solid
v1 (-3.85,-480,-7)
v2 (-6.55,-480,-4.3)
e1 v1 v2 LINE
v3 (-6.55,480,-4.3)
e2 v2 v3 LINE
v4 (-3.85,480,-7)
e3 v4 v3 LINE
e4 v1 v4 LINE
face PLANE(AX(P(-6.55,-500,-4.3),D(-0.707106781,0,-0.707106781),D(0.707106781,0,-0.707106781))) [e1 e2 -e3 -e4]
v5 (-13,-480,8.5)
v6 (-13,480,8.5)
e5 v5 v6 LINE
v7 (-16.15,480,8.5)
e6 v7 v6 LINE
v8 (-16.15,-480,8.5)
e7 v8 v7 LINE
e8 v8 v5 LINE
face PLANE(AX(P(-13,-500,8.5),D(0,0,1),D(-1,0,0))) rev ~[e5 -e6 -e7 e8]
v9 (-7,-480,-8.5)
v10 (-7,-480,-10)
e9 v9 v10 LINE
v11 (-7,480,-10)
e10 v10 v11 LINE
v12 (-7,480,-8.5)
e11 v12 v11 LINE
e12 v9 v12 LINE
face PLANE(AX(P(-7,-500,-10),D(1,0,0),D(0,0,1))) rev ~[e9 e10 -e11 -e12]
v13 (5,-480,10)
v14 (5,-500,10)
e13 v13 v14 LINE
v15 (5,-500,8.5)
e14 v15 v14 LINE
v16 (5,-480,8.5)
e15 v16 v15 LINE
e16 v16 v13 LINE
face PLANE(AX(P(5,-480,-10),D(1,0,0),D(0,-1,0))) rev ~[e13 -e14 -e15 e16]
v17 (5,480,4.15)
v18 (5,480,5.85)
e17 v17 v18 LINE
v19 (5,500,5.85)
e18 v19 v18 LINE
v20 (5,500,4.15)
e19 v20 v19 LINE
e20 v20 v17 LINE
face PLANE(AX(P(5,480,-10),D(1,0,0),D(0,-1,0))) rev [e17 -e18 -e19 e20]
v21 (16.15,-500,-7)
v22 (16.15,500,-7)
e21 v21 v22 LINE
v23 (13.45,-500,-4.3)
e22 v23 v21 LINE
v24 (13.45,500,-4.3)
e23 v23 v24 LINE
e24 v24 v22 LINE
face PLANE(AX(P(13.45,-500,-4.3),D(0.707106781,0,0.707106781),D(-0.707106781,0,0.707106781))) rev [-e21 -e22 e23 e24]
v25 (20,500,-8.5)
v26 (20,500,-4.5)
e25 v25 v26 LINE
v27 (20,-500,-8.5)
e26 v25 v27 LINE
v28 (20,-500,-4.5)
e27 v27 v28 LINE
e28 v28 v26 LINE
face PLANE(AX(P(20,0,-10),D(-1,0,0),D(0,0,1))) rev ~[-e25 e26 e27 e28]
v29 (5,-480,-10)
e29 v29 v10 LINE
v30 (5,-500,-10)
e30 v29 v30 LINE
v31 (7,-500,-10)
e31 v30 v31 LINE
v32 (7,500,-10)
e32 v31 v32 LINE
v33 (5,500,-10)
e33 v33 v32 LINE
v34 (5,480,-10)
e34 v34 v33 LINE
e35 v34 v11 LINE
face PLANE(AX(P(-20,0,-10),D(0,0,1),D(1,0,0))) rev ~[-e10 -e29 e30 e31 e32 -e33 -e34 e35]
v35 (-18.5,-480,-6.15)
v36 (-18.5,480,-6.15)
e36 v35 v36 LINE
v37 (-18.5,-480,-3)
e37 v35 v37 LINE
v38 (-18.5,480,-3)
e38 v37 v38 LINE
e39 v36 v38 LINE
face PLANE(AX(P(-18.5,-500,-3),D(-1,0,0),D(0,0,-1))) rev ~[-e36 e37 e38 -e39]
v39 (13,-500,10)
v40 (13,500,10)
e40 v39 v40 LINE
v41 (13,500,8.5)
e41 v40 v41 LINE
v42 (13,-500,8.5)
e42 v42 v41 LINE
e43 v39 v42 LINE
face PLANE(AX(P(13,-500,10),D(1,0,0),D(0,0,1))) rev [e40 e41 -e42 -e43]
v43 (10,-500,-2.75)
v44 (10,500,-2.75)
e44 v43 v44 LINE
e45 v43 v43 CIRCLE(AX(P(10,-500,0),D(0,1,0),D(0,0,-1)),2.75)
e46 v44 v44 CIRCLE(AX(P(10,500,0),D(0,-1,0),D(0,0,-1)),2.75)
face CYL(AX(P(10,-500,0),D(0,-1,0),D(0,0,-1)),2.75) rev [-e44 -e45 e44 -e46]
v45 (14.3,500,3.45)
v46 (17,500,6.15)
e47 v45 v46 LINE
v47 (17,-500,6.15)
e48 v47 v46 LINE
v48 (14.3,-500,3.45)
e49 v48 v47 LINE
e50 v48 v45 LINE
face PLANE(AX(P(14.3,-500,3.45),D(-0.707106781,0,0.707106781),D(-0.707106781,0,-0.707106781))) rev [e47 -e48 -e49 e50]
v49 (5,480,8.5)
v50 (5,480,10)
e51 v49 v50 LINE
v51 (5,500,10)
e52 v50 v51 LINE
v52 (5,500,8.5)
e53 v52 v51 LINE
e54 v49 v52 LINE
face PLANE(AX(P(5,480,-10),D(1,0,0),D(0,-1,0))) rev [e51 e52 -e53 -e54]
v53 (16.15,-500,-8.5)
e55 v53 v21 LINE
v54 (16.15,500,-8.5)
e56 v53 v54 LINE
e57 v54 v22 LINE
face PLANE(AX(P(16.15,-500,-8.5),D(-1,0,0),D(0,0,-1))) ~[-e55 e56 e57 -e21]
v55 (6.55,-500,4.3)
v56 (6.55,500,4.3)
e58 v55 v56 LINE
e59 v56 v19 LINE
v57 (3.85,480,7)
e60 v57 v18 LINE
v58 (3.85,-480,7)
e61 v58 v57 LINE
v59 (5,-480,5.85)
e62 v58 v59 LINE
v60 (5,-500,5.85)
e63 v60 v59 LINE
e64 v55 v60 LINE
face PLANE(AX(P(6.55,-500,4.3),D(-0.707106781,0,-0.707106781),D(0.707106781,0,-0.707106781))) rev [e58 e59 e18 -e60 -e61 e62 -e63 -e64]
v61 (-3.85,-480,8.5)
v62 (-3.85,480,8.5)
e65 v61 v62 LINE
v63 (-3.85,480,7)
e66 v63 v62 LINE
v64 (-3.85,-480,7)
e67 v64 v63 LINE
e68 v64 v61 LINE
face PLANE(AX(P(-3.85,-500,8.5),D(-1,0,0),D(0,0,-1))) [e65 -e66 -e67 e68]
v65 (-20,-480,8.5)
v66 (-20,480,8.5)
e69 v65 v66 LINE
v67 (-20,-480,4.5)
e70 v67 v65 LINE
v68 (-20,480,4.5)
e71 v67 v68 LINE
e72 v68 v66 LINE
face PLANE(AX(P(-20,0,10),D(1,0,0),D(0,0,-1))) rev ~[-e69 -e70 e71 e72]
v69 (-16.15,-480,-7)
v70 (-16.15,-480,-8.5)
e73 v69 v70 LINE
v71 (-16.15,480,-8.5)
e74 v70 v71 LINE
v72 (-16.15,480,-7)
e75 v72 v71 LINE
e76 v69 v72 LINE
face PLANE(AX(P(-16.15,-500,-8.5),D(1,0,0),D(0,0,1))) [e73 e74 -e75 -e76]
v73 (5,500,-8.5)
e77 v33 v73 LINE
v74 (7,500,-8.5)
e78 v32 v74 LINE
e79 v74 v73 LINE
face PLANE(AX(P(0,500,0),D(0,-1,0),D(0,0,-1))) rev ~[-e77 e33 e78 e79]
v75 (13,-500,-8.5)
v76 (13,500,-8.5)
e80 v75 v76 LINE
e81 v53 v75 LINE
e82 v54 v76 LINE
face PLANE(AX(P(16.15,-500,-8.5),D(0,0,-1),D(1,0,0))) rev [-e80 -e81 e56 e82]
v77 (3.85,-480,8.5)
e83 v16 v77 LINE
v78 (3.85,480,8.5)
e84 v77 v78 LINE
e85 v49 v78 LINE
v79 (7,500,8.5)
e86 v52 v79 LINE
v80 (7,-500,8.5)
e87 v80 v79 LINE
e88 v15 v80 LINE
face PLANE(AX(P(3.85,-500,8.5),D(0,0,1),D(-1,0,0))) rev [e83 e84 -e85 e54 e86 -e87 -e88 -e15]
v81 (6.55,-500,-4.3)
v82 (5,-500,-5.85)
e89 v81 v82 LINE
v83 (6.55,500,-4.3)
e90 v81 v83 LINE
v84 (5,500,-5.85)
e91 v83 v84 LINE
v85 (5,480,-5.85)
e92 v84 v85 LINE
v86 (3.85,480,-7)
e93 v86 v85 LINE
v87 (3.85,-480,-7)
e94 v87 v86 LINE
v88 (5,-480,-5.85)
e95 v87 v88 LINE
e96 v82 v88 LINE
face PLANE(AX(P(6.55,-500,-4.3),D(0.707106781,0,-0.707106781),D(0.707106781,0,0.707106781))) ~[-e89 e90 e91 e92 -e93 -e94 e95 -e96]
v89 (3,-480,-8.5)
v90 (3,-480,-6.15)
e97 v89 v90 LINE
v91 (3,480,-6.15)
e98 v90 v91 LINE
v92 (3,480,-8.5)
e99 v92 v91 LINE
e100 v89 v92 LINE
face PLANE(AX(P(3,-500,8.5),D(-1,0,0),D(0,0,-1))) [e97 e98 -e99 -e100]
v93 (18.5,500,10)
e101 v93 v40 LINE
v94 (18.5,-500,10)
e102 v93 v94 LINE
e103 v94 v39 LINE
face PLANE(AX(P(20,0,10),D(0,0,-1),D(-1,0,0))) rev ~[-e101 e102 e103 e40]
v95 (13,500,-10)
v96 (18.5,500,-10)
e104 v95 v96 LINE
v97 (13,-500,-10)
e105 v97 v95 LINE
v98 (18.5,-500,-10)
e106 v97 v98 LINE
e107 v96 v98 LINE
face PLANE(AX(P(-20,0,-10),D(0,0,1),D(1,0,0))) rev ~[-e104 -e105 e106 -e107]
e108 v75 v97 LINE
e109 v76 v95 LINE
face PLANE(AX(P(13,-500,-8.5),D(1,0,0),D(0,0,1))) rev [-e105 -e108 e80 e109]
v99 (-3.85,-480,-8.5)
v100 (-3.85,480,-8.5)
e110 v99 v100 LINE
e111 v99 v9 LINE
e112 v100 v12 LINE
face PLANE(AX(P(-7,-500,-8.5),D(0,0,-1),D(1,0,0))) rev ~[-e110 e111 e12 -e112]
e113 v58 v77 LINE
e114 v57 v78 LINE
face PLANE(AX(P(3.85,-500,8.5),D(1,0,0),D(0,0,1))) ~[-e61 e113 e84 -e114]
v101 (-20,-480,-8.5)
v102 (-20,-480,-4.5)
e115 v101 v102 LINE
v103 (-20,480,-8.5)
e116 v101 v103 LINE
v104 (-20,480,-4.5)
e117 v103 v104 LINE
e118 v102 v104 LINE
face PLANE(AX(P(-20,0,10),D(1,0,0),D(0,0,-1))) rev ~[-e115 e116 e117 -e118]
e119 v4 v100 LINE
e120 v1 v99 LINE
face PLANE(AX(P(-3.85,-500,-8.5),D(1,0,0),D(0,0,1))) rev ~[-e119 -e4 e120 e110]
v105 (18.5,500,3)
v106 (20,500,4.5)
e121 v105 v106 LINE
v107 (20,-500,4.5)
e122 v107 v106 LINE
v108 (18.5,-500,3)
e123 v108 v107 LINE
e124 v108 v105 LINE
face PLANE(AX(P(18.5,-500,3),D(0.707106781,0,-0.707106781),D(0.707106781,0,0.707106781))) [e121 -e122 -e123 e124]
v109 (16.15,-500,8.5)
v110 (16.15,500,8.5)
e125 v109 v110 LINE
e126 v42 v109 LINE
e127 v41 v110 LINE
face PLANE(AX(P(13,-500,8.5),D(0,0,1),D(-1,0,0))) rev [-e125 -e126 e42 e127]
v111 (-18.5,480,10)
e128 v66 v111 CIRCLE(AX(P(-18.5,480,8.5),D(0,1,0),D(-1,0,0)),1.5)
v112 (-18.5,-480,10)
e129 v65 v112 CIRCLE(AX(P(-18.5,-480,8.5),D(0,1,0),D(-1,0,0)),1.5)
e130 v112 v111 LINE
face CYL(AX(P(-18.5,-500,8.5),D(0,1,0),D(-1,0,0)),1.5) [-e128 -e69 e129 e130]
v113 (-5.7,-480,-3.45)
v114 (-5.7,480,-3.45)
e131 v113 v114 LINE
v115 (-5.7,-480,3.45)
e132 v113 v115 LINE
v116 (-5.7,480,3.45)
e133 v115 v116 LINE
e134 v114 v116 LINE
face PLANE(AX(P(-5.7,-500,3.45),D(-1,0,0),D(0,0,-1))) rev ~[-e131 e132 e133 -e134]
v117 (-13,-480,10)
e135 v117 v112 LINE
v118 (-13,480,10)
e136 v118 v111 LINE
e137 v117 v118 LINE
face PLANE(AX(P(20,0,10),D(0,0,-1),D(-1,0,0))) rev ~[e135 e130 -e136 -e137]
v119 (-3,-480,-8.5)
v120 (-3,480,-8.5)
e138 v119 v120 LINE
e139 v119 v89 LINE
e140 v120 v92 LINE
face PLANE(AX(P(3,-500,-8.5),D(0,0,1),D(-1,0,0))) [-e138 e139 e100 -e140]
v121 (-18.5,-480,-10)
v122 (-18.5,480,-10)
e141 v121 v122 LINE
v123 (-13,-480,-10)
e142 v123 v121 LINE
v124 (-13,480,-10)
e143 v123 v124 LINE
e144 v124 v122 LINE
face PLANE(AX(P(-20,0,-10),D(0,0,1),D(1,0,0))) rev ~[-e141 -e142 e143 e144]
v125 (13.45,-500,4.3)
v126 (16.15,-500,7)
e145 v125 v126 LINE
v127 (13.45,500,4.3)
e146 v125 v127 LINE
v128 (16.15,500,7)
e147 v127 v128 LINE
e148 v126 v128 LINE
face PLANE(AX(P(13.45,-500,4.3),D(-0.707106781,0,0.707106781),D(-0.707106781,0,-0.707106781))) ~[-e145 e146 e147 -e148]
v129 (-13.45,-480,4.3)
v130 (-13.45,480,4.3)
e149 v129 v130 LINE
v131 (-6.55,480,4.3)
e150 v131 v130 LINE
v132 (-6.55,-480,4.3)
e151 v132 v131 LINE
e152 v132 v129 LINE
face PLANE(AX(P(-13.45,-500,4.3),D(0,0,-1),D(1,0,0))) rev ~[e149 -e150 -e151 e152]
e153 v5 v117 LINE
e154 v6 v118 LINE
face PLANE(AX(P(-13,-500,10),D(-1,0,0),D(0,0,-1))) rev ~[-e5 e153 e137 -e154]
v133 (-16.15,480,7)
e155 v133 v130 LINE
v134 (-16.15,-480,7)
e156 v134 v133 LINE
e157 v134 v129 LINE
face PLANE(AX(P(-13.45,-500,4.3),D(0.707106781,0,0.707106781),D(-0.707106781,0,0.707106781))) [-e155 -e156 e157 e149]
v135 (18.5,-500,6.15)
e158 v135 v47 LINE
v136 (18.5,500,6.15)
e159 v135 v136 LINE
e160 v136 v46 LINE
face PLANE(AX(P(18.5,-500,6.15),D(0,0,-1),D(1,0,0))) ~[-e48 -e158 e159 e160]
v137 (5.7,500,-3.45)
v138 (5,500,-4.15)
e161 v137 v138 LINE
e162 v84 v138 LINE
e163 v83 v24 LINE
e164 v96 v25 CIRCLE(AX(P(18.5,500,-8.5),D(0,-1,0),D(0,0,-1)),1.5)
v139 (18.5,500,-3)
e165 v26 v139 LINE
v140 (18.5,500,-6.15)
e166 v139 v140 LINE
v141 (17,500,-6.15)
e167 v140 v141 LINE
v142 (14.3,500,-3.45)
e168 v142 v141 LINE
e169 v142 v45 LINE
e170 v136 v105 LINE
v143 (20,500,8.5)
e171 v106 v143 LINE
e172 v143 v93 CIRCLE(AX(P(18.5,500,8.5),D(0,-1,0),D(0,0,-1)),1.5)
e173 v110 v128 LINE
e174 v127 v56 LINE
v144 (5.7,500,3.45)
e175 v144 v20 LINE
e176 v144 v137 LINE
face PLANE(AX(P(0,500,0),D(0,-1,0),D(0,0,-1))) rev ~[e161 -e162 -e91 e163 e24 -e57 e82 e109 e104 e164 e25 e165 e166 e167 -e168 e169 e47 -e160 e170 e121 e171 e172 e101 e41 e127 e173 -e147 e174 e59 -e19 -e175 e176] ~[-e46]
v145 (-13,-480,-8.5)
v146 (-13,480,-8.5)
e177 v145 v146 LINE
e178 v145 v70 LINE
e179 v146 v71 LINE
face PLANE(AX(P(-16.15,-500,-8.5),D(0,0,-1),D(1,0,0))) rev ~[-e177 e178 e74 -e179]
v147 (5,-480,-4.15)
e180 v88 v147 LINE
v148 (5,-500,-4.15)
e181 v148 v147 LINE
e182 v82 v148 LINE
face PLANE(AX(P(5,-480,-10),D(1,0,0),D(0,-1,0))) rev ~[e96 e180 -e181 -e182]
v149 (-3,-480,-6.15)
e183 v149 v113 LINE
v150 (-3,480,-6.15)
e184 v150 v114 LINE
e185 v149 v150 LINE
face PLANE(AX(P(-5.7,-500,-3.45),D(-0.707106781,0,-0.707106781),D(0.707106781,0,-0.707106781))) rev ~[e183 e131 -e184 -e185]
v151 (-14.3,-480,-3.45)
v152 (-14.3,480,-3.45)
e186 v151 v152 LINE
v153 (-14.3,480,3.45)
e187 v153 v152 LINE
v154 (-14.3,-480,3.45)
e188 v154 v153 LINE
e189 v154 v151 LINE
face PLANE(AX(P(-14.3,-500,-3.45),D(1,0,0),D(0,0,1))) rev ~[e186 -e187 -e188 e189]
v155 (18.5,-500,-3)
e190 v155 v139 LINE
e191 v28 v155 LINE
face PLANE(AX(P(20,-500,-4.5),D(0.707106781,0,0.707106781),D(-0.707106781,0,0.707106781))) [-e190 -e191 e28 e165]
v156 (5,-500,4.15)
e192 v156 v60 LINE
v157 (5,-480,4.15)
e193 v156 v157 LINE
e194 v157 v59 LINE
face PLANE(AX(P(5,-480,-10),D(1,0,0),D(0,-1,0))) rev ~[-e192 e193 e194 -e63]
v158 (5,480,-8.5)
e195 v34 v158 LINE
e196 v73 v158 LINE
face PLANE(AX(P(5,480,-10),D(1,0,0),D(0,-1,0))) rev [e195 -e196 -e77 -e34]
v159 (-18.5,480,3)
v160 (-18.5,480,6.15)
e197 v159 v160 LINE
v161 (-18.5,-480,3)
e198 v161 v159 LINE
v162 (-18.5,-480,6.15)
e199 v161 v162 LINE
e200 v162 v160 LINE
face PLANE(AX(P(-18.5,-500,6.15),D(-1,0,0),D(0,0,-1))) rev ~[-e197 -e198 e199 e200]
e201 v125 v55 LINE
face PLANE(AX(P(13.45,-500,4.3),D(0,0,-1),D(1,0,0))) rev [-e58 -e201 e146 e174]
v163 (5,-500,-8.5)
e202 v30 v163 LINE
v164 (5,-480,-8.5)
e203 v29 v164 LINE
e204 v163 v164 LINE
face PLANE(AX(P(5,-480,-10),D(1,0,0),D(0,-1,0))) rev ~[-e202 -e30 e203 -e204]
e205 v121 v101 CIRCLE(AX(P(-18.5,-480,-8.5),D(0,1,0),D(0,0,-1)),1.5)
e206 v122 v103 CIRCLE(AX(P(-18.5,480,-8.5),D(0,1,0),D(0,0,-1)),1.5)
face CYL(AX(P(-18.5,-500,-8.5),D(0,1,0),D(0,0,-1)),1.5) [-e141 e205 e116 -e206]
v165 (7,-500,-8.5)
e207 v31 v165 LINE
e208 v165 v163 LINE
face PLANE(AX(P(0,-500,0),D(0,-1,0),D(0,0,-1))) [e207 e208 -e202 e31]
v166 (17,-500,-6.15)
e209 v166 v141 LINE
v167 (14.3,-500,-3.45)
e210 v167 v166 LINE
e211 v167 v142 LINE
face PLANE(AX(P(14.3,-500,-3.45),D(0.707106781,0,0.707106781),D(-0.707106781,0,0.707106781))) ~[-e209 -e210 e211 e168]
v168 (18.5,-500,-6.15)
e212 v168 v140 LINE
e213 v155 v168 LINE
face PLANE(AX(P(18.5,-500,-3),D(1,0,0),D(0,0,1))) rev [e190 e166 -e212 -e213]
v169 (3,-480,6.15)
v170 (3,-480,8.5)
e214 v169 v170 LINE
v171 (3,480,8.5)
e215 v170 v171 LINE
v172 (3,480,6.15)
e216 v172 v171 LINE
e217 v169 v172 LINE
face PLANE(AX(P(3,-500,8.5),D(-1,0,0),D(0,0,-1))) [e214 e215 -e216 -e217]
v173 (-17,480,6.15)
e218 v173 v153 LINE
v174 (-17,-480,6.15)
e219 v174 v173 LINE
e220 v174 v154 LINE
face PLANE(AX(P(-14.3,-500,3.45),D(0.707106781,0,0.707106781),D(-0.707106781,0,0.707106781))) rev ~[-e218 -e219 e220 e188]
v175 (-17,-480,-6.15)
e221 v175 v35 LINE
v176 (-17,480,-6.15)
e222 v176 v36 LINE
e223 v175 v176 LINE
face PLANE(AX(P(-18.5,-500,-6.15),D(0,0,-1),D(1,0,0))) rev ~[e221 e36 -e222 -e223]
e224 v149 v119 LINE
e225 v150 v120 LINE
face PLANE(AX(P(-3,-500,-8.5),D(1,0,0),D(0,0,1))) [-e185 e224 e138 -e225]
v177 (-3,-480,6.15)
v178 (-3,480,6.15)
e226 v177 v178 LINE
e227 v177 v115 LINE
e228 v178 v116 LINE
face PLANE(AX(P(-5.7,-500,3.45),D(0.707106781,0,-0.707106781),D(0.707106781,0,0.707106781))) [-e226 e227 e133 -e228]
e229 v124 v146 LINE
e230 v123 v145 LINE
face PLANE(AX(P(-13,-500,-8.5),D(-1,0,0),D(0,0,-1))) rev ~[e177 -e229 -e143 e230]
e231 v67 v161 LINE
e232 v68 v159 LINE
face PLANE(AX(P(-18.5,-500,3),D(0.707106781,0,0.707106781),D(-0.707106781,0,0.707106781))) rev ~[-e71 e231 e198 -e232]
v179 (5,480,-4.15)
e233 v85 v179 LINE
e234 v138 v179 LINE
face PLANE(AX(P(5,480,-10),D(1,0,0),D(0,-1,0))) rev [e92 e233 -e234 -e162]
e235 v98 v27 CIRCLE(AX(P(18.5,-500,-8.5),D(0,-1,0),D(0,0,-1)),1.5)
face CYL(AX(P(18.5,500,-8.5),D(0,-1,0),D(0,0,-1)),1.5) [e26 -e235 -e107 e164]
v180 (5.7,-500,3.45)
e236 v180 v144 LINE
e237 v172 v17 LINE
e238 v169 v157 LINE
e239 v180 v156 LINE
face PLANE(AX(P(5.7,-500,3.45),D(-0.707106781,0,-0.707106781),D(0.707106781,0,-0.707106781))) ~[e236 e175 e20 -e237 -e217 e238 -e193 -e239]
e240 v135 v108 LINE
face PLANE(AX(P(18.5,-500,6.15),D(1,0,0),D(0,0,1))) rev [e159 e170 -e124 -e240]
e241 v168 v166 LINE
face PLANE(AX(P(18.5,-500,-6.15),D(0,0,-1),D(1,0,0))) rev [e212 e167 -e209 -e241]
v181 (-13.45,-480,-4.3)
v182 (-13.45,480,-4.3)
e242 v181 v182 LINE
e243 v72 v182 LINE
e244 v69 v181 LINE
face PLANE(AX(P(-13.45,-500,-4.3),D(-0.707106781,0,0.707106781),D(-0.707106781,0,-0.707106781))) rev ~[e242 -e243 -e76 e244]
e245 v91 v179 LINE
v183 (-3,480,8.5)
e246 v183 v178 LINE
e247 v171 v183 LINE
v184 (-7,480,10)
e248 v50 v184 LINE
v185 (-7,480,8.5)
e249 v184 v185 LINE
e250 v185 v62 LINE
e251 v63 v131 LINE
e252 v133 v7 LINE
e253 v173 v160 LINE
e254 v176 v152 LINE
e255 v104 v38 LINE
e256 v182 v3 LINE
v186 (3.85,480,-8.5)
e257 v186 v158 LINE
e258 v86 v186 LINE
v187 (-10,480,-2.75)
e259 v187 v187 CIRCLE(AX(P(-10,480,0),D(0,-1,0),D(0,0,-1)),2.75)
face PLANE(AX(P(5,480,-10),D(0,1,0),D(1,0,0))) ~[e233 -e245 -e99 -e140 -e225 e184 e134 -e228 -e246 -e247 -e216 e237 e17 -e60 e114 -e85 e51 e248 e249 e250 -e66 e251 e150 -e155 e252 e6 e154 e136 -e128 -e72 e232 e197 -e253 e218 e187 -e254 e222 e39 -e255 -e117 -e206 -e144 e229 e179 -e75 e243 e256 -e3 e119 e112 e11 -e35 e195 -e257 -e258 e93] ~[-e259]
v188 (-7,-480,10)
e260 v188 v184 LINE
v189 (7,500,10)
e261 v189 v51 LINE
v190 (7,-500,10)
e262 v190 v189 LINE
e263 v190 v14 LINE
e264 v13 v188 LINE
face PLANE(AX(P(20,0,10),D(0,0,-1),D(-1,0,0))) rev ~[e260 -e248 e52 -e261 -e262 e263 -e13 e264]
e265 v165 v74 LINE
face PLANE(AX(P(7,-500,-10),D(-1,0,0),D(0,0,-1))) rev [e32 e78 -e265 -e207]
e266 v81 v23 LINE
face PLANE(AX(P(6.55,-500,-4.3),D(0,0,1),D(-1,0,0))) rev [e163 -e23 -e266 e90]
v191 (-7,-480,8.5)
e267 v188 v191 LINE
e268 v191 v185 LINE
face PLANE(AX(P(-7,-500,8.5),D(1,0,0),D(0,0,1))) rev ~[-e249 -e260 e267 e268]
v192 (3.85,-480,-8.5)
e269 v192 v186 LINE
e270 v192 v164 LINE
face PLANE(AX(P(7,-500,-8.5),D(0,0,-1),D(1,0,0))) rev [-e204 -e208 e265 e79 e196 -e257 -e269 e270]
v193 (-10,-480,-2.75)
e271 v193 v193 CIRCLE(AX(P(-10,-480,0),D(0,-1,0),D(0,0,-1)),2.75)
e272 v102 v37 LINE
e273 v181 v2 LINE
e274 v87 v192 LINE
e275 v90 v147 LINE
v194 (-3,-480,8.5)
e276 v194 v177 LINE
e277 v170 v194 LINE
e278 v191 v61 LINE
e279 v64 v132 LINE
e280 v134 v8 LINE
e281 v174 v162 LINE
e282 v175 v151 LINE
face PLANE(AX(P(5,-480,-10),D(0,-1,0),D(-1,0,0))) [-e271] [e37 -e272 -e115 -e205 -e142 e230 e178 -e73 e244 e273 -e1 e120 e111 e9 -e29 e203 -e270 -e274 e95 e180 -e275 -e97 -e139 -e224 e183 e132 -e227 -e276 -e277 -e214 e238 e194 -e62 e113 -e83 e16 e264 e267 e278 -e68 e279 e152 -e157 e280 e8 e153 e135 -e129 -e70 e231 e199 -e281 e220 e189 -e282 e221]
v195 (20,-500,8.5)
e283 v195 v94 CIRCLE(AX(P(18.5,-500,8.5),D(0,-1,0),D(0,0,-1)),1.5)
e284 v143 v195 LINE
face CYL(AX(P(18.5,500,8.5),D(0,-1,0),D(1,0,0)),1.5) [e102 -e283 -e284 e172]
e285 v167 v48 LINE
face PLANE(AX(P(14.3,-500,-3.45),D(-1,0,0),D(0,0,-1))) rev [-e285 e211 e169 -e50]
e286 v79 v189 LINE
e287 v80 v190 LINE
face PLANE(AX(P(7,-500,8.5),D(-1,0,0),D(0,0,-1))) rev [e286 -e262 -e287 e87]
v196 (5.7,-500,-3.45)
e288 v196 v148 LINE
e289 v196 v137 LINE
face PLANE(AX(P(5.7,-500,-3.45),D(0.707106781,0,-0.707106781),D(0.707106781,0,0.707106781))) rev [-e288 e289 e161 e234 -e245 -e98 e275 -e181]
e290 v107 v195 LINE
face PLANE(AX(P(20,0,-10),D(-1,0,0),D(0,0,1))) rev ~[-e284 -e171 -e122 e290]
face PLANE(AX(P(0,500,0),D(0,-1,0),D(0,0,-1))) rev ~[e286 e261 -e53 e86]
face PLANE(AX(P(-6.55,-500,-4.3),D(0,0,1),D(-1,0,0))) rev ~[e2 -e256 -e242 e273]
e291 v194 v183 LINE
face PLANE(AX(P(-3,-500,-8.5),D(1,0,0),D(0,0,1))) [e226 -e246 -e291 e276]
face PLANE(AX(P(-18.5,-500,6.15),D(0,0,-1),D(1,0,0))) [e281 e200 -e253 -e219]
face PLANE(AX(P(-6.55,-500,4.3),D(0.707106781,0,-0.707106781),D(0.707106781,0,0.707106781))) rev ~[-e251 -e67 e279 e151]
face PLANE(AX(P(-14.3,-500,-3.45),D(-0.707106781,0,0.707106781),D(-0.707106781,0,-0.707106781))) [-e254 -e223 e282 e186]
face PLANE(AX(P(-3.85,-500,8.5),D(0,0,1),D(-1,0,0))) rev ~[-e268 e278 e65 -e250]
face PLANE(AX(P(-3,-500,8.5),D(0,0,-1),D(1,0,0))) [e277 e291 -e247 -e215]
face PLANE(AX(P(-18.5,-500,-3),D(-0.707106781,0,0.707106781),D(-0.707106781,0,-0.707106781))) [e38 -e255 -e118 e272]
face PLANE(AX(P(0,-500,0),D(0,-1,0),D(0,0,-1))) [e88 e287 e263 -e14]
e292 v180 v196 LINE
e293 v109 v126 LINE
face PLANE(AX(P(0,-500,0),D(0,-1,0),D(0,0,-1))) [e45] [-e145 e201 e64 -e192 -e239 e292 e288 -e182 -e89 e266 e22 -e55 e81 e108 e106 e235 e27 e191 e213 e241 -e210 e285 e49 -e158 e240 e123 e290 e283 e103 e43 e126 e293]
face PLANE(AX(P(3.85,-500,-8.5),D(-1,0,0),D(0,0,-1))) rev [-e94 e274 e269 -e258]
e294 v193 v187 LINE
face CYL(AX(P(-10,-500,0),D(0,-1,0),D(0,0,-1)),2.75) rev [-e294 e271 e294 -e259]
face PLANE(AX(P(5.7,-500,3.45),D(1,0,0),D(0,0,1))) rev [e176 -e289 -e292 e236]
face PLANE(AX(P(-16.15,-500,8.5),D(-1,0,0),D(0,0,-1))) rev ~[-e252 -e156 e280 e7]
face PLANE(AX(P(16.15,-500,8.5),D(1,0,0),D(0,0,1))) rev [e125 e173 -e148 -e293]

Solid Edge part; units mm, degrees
sketch "Sketch1" plane through (0, 0, 0) normal (0, -1, 0) x (1, 0, 0)
  line L0 (-20, -10) -> (20, -10)
  line L1 (20, -10) -> (20, 10)
  line L2 (20, 10) -> (-20, 10)
  line L3 (-20, 10) -> (-20, -10)
  dimension "D1" = 40
  dimension "D2" = 20
extrude "Protrusion1" add sketch "Sketch1" along normal mid plane 1000
sketch "Sketch2" plane through (0, -500, 0) normal (0, -1, 0) x (1, 0, 0)
  line L0 (-20, -3) -> (-18.5, -3)
  line L1 (-18.5, -3) -> (-18.5, -6.15)
  line L2 (-18.5, -6.15) -> (-17, -6.15)
  line L3 (-14.3, -3.45) -> (-17, -6.15)
  line L4 (-14.3, -3.45) -> (-14.3, 3.45)
  line L5 (-14.3, 3.45) -> (-17, 6.15)
  line L6 (-18.5, 6.15) -> (-17, 6.15)
  line L7 (-18.5, 6.15) -> (-18.5, 3)
  line L8 (-18.5, 3) -> (-20, 3)
  line L9 (-20, 3) -> (-20, -3)
  dimension "D1" = 4.2
  dimension "D2" = 5.7
  dimension "D3" = 1.5
  dimension "D4" = 6
  dimension "D5" = 12.3
extrude "Cutout1" cut sketch "Sketch2" against normal through all
fillet "Verrundung_1" radius 1.5 4 edges at (20, 0, 10) (-20, 0, 10) (20, 0, -10) (-20, 0, -10)
pattern_circular "Pattern1" count 4 over 360 about axis through (-10, -500, 0) along (0, -1, 0) of "Cutout1"
fillet "Round1" [suppressed]
fillet "Round2" [suppressed]
fillet "Round3" [suppressed]
mirror "Mirror1" about plane through (0, 0, 0) normal (1, 0, 0) of "Cutout1", "Pattern1"
fillet "Round4" [suppressed]
fillet "Round5" [suppressed]
fillet "Round6" [suppressed]
fillet "Round7" [suppressed]
sketch "Sketch3" plane through (0, -500, 0) normal (0, -1, 0) x (-1, 0, 0)
  line L0 (-3, 8.5) -> (3, 8.5)
  line L1 (3, 8.5) -> (3, -8.5)
  line L2 (3, -8.5) -> (-3, -8.5)
  line L3 (-3, -8.5) -> (-3, 8.5)
extrude "Cutout9" cut sketch "Sketch3" against normal through all
hole "Hole1" at (-10, -500, 0) direction (0, 1, 0) diameter 5.5 end up to next
hole "Hole2" at (10, -500, 0) direction (0, 1, 0) diameter 5.5 end up to next
sketch "Sketch4" plane through (0, -500, 0) normal (0, -1, 0) x (1, 0, 0)
  line L0 (-18.5, 3) -> (-20, 4.5)
  line L1 (-20, 4.5) -> (-20, 3)
  line L2 (-20, 3) -> (-18.5, 3)
  line L3 (-18.5, -3) -> (-20, -4.5)
  line L4 (-20, -4.5) -> (-20, -3)
  line L5 (-20, -3) -> (-18.5, -3)
  line L6 (18.5, 3) -> (20, 4.5)
  line L7 (20, 4.5) -> (20, 3)
  line L8 (20, 3) -> (18.5, 3)
  line L9 (18.5, -3) -> (20, -3)
  line L10 (20, -4.5) -> (20, -3)
  line L11 (20, -4.5) -> (18.5, -3)
extrude "Cutout10" cut sketch "Sketch4" against normal through all
sketch "Sketch5" plane through (0, 0, -10) normal (0, 0, -1) x (0, 1, 0)
  line L0 (-480, 5) -> (-480, -20)
  line L1 (-480, -20) -> (-500, -20)
  line L2 (-500, -20) -> (-500, 5)
  line L3 (-480, 5) -> (-500, 5)
  dimension "D1" = 20
  dimension "D2" = 25
extrude "Cutout11" cut sketch "Sketch5" against normal through all
mirror "Mirror2" about plane through (0, 0, 0) normal (0, -1, 0) of "Cutout11"
